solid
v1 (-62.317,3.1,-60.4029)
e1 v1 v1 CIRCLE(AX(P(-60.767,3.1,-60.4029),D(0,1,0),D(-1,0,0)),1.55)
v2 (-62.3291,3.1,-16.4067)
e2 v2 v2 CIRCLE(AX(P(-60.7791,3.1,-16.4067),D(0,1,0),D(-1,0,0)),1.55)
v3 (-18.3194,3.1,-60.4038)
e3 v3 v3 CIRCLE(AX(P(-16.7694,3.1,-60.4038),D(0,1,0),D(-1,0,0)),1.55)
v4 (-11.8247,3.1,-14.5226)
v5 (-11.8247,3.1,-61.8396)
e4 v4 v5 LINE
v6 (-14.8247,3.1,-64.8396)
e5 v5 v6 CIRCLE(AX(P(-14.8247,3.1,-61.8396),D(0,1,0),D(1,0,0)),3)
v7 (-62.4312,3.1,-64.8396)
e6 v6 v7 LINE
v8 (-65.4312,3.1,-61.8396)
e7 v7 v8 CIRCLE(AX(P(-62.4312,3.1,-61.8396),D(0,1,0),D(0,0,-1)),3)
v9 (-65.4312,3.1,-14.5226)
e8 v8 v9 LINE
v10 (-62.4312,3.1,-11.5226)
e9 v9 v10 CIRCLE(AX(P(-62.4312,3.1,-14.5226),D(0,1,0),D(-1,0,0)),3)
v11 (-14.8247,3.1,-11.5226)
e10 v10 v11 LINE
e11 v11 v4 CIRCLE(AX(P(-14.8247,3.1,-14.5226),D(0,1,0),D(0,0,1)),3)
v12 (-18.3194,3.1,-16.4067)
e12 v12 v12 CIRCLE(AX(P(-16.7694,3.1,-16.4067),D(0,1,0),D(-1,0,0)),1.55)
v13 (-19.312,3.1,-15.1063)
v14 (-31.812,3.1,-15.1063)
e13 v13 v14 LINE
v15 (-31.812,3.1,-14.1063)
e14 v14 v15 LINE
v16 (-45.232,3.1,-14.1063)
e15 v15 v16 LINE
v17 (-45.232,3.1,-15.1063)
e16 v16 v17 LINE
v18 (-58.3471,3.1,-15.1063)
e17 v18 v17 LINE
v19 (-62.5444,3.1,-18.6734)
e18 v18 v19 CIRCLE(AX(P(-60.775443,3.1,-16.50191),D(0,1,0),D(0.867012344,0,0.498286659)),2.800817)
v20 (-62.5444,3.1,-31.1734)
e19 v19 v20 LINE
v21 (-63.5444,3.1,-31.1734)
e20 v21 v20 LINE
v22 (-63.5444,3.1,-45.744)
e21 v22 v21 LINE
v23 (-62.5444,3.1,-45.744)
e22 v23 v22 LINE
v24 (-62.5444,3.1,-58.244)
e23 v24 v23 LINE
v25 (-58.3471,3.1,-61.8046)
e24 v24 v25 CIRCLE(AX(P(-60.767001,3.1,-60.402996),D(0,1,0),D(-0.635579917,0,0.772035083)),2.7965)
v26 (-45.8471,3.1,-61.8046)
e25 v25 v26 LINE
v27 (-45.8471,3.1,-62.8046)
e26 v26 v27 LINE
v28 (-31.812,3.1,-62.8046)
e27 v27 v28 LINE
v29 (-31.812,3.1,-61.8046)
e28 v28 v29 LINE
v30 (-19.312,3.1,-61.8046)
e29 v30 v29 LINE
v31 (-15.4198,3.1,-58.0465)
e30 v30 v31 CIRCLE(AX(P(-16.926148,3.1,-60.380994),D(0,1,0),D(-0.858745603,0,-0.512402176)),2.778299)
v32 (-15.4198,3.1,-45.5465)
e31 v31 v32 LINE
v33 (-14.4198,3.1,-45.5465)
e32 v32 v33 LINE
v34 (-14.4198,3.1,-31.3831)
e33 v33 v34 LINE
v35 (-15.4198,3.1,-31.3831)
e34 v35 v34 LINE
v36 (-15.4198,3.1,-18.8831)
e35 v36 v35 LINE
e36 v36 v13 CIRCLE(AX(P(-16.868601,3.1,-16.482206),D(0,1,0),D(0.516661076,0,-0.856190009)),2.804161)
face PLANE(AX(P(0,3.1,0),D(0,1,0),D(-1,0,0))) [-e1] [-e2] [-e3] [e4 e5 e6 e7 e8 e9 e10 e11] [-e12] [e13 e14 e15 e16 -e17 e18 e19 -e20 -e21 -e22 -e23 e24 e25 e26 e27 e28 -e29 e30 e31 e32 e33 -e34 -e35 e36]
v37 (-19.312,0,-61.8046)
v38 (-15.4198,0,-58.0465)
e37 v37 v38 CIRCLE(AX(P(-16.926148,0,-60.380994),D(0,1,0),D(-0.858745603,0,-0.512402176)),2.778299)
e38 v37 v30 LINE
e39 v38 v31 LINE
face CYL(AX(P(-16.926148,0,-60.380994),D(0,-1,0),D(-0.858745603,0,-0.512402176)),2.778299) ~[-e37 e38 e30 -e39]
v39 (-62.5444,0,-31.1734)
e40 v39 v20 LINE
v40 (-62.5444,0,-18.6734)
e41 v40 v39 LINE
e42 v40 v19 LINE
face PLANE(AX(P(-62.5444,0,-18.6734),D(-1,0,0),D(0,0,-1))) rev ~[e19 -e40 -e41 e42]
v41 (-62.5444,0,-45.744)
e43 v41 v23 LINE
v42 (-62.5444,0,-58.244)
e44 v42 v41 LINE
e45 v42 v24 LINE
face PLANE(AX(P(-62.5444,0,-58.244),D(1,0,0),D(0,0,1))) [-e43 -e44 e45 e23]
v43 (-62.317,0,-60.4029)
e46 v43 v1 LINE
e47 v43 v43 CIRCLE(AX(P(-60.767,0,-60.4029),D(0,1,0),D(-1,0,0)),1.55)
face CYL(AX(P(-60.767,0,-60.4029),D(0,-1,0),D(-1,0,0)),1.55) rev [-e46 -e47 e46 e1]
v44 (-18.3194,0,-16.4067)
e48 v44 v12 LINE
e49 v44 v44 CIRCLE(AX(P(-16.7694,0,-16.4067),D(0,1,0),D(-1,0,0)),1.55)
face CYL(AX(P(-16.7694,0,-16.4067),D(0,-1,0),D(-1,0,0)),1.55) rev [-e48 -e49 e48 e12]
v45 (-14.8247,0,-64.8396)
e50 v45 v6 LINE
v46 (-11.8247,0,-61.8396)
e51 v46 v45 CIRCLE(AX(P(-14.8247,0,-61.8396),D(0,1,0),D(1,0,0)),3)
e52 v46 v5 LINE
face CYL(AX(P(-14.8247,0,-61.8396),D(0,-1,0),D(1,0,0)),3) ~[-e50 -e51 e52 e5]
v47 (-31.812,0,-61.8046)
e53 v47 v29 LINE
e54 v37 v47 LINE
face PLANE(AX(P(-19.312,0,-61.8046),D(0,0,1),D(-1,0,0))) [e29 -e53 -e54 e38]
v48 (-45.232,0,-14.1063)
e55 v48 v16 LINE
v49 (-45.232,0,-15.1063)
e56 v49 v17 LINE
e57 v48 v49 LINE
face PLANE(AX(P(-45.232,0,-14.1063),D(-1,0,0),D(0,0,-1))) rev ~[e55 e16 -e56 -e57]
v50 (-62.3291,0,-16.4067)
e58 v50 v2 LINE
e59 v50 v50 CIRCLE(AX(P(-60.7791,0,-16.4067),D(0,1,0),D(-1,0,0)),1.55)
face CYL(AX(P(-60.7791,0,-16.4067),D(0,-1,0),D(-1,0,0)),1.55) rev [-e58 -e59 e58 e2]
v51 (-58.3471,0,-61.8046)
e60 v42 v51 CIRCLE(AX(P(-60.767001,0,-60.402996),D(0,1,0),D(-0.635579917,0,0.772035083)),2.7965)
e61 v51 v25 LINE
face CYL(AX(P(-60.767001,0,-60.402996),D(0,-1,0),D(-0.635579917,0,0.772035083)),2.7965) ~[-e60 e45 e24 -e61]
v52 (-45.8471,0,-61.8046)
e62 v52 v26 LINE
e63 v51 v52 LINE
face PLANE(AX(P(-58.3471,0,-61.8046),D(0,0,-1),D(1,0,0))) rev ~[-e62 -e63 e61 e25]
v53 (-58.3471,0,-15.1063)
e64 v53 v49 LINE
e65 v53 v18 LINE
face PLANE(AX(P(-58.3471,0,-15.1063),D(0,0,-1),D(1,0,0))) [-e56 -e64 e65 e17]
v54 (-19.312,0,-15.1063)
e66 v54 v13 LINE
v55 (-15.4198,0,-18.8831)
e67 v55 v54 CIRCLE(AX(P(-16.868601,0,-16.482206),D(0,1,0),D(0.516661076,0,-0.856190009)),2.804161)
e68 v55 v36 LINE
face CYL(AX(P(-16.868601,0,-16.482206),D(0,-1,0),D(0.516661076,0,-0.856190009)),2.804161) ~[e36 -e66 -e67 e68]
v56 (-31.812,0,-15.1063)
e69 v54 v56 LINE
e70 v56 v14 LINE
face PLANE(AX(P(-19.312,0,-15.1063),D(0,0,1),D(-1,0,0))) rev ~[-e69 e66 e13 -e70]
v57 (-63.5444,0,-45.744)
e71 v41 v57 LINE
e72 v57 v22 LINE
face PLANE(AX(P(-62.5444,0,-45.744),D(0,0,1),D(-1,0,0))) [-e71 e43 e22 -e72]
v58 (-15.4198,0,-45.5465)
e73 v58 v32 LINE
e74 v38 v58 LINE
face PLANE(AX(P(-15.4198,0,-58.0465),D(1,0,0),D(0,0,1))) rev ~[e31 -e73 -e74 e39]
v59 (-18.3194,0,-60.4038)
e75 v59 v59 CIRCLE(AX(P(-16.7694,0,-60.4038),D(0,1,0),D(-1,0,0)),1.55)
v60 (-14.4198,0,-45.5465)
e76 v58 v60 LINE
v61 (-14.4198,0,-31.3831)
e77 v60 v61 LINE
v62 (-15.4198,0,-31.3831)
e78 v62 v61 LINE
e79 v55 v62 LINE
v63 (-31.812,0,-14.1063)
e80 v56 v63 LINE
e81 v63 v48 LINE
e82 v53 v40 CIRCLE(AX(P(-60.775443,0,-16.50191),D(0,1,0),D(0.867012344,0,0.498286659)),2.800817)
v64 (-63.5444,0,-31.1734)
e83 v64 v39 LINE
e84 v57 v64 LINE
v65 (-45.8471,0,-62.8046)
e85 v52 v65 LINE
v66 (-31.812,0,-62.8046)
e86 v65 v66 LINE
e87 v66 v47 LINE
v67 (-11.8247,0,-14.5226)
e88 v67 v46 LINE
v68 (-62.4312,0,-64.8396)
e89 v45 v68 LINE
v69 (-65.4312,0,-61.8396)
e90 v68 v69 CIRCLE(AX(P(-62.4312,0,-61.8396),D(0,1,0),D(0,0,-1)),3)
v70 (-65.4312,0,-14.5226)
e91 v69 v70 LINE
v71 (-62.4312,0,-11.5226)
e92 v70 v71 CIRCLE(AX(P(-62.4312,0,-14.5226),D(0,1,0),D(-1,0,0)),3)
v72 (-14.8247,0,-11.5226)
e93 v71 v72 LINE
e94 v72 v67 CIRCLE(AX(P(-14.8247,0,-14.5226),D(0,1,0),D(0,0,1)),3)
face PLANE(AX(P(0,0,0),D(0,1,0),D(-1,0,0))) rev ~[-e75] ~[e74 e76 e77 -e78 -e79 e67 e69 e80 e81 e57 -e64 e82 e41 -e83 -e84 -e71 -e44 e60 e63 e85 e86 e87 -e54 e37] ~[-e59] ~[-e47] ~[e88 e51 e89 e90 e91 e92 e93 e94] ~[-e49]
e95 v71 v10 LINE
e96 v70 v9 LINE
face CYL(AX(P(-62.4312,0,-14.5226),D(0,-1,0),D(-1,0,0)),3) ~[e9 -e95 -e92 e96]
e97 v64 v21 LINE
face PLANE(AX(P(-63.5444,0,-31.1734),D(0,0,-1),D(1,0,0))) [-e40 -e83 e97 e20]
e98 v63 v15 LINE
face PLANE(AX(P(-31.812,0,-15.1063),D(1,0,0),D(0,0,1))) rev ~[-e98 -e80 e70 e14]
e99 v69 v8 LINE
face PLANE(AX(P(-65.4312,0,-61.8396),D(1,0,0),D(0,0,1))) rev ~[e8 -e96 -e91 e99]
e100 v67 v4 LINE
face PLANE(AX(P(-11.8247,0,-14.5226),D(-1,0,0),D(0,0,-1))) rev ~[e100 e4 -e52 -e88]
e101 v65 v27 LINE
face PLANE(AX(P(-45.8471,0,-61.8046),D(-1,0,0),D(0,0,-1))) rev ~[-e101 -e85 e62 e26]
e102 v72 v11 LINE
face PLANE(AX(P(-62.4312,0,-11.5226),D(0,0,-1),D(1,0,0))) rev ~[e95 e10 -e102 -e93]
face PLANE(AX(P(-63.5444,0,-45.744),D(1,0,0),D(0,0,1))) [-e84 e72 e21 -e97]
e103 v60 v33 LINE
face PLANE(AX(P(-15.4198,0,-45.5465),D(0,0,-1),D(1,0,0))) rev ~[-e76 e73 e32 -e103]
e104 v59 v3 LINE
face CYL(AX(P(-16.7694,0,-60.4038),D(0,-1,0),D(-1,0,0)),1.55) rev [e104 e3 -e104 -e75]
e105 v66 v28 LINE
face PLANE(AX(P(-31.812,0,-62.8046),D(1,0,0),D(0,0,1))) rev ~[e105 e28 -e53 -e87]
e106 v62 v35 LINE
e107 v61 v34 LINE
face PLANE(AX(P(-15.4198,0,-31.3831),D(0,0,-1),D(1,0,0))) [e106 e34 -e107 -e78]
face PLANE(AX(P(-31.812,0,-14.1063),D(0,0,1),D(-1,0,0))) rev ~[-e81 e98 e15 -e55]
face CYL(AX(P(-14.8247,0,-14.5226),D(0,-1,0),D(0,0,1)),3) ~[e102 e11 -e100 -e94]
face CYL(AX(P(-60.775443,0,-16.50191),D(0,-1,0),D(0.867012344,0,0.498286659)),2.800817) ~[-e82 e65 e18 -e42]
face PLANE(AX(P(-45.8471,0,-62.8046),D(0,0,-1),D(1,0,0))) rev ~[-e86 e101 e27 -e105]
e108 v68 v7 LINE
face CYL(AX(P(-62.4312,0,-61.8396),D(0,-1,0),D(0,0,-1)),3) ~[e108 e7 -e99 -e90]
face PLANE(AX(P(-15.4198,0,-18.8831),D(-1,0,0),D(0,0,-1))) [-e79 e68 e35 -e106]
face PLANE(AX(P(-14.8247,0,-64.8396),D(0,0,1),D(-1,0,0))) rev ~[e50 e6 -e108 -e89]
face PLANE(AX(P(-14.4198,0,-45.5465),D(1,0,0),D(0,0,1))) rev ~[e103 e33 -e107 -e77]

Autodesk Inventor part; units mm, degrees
ref_plane "YZ Plane" through (0, 0, 0) normal (1, 0, 0) x (0, 1, 0)
ref_plane "XZ Plane" through (0, 0, 0) normal (0, 1, 0) x (-1, 0, 0)
ref_plane "XY Plane" through (0, 0, 0) normal (0, 0, 1) x (1, 0, 0)
sketch "Baseline" plane through (0, 0, 0) normal (0, 1, 0) x (-1, 0, 0)
  line L0 (61.0726, -11.6756) -> (16.1384, -11.6756)
  spline S0 degree 3 poles (16.1384, -11.6756) (13.8101, -11.6756) (11.9051, -13.5806) (11.9051, -15.909) knots 1 1 1 1 2 2 2 2
  line L1 (16.1384, -11.6756) -> (13.8101, -11.6756) construction
  line L2 (13.8101, -11.6756) -> (11.9051, -13.5806) construction
  line L3 (11.9051, -13.5806) -> (11.9051, -15.909) construction
  line L4 (11.9051, -15.909) -> (11.9051, -60.661)
  spline S1 degree 3 poles (11.9051, -60.661) (11.9051, -62.9893) (13.8101, -64.8943) (16.1384, -64.8943) knots 3 3 3 3 4 4 4 4
  line L5 (11.9051, -60.661) -> (11.9051, -62.9893) construction
  line L6 (11.9051, -62.9893) -> (13.8101, -64.8943) construction
  line L7 (13.8101, -64.8943) -> (16.1384, -64.8943) construction
  line L8 (16.1384, -64.8943) -> (61.0726, -64.8943)
  spline S2 degree 3 poles (61.0726, -64.8943) (63.4009, -64.8943) (65.3059, -62.9893) (65.3059, -60.661) knots 5 5 5 5 6 6 6 6
  line L9 (61.0726, -64.8943) -> (63.4009, -64.8943) construction
  line L10 (63.4009, -64.8943) -> (65.3059, -62.9893) construction
  line L11 (65.3059, -62.9893) -> (65.3059, -60.661) construction
  line L12 (65.3059, -60.661) -> (65.3059, -15.909)
  spline S3 degree 3 poles (65.3059, -15.909) (65.3059, -13.5806) (63.4009, -11.6756) (61.0726, -11.6756) knots 7 7 7 7 8 8 8 8
  line L13 (65.3059, -15.909) -> (65.3059, -13.5806) construction
  line L14 (65.3059, -13.5806) -> (63.4009, -11.6756) construction
  line L15 (63.4009, -11.6756) -> (61.0726, -11.6756) construction
  spline S4 degree 3 poles (59.9166, -15.3859) (59.9168, -15.3857) (59.9171, -15.3855) (59.9173, -15.3853) knots 0 0 0 0 1 1 1 1
  line L16 (59.9166, -15.3859) -> (59.9168, -15.3857) construction
  line L17 (59.9168, -15.3857) -> (59.9171, -15.3855) construction
  line L18 (59.9171, -15.3855) -> (59.9173, -15.3853) construction
  line L19 (59.9173, -15.3853) -> (59.9173, -15.3854)
  spline S5 degree 3 poles (59.9173, -15.3854) (60.1545, -15.1997) (60.4494, -15.0845) (60.7739, -15.0845) (61.5454, -15.0845) (62.1709, -15.7099) (62.1709, -16.4815) (62.1709, -16.7261) (62.1024, -16.9527) (61.9919, -17.1527) knots 2 2 2 2 3 3 3 4 4 4 5 5 5 5
  line L20 (59.9173, -15.3854) -> (60.1545, -15.1997) construction
  line L21 (60.1545, -15.1997) -> (60.4494, -15.0845) construction
  line L22 (60.4494, -15.0845) -> (60.7739, -15.0845) construction
  line L23 (60.7739, -15.0845) -> (61.5454, -15.0845) construction
  line L24 (61.5454, -15.0845) -> (62.1709, -15.7099) construction
  line L25 (62.1709, -15.7099) -> (62.1709, -16.4815) construction
  line L26 (62.1709, -16.4815) -> (62.1709, -16.7261) construction
  line L27 (62.1709, -16.7261) -> (62.1024, -16.9527) construction
  line L28 (62.1024, -16.9527) -> (61.9919, -17.1527) construction
  line L29 (61.9919, -17.1527) -> (61.9919, -17.1527)
  spline S6 degree 3 poles (61.9919, -17.1527) (61.9084, -17.3039) (61.7991, -17.4365) (61.6678, -17.5468) knots 7 7 7 7 8 8 8 8
  line L30 (61.9919, -17.1527) -> (61.9084, -17.3039) construction
  line L31 (61.9084, -17.3039) -> (61.7991, -17.4365) construction
  line L32 (61.7991, -17.4365) -> (61.6678, -17.5468) construction
  spline S7 degree 3 poles (61.6678, -17.5468) (61.6518, -17.5604) (61.6359, -17.5739) (61.6194, -17.5867) knots 8 8 8 8 9 9 9 9
  line L33 (61.6678, -17.5468) -> (61.6518, -17.5604) construction
  line L34 (61.6518, -17.5604) -> (61.6359, -17.5739) construction
  line L35 (61.6359, -17.5739) -> (61.6194, -17.5867) construction
  spline S8 degree 3 poles (61.6194, -17.5867) (61.583, -17.6147) (61.5464, -17.6415) (61.5073, -17.6658) knots 9 9 9 9 10 10 10 10
  line L36 (61.6194, -17.5867) -> (61.583, -17.6147) construction
  line L37 (61.583, -17.6147) -> (61.5464, -17.6415) construction
  line L38 (61.5464, -17.6415) -> (61.5073, -17.6658) construction
  spline S9 degree 3 poles (61.5073, -17.6658) (61.4604, -17.6954) (61.4112, -17.7214) (61.3608, -17.7453) knots 10 10 10 10 11 11 11 11
  line L39 (61.5073, -17.6658) -> (61.4604, -17.6954) construction
  line L40 (61.4604, -17.6954) -> (61.4112, -17.7214) construction
  line L41 (61.4112, -17.7214) -> (61.3608, -17.7453) construction
  spline S10 degree 3 poles (61.3608, -17.7453) (61.3302, -17.7595) (61.2994, -17.7722) (61.2677, -17.7842) knots 11 11 11 11 12 12 12 12
  line L42 (61.3608, -17.7453) -> (61.3302, -17.7595) construction
  line L43 (61.3302, -17.7595) -> (61.2994, -17.7722) construction
  line L44 (61.2994, -17.7722) -> (61.2677, -17.7842) construction
  spline S11 degree 3 poles (61.2677, -17.7842) (61.2113, -17.8059) (61.1534, -17.824) (61.0936, -17.8382) knots 12 12 12 12 13 13 13 13
  line L45 (61.2677, -17.7842) -> (61.2113, -17.8059) construction
  line L46 (61.2113, -17.8059) -> (61.1534, -17.824) construction
  line L47 (61.1534, -17.824) -> (61.0936, -17.8382) construction
  spline S12 degree 3 poles (61.0936, -17.8382) (61.0698, -17.8439) (61.0461, -17.8491) (61.0217, -17.8535) knots 13 13 13 13 14 14 14 14
  line L48 (61.0936, -17.8382) -> (61.0698, -17.8439) construction
  line L49 (61.0698, -17.8439) -> (61.0461, -17.8491) construction
  line L50 (61.0461, -17.8491) -> (61.0217, -17.8535) construction
  spline S13 degree 3 poles (61.0217, -17.8535) (60.9411, -17.8682) (60.8589, -17.8785) (60.7739, -17.8785) (60.0023, -17.8785) (59.3769, -17.253) (59.3769, -16.4815) (59.3769, -16.3956) (59.387, -16.3124) (59.4021, -16.2311) knots 14 14 14 14 15 15 15 16 16 16 17 17 17 17
  line L51 (61.0217, -17.8535) -> (60.9411, -17.8682) construction
  line L52 (60.9411, -17.8682) -> (60.8589, -17.8785) construction
  line L53 (60.8589, -17.8785) -> (60.7739, -17.8785) construction
  line L54 (60.7739, -17.8785) -> (60.0023, -17.8785) construction
  line L55 (60.0023, -17.8785) -> (59.3769, -17.253) construction
  line L56 (59.3769, -17.253) -> (59.3769, -16.4815) construction
  line L57 (59.3769, -16.4815) -> (59.3769, -16.3956) construction
  line L58 (59.3769, -16.3956) -> (59.387, -16.3124) construction
  line L59 (59.387, -16.3124) -> (59.4021, -16.2311) construction
  spline S14 degree 3 poles (59.4021, -16.2311) (59.4052, -16.2142) (59.4075, -16.1974) (59.4112, -16.1808) knots 17 17 17 17 18 18 18 18
  line L60 (59.4021, -16.2311) -> (59.4052, -16.2142) construction
  line L61 (59.4052, -16.2142) -> (59.4075, -16.1974) construction
  line L62 (59.4075, -16.1974) -> (59.4112, -16.1808) construction
  spline S15 degree 3 poles (59.4112, -16.1808) (59.4271, -16.11) (59.4487, -16.0414) (59.475, -15.9752) knots 18 18 18 18 19 19 19 19
  line L63 (59.4112, -16.1808) -> (59.4271, -16.11) construction
  line L64 (59.4271, -16.11) -> (59.4487, -16.0414) construction
  line L65 (59.4487, -16.0414) -> (59.475, -15.9752) construction
  spline S16 degree 3 poles (59.475, -15.9752) (59.486, -15.9472) (59.4982, -15.9203) (59.5108, -15.8933) knots 19 19 19 19 20 20 20 20
  line L66 (59.475, -15.9752) -> (59.486, -15.9472) construction
  line L67 (59.486, -15.9472) -> (59.4982, -15.9203) construction
  line L68 (59.4982, -15.9203) -> (59.5108, -15.8933) construction
  spline S17 degree 3 poles (59.5108, -15.8933) (59.5311, -15.8506) (59.5537, -15.8095) (59.5781, -15.7694) knots 20 20 20 20 21 21 21 21
  line L69 (59.5108, -15.8933) -> (59.5311, -15.8506) construction
  line L70 (59.5311, -15.8506) -> (59.5537, -15.8095) construction
  line L71 (59.5537, -15.8095) -> (59.5781, -15.7694) construction
  spline S18 degree 3 poles (59.5781, -15.7694) (59.6085, -15.7183) (59.6422, -15.6703) (59.6788, -15.6237) knots 21 21 21 21 22 22 22 22
  line L72 (59.5781, -15.7694) -> (59.6085, -15.7183) construction
  line L73 (59.6085, -15.7183) -> (59.6422, -15.6703) construction
  line L74 (59.6422, -15.6703) -> (59.6788, -15.6237) construction
  spline S19 degree 3 poles (59.6788, -15.6237) (59.69, -15.6095) (59.7015, -15.5956) (59.7133, -15.5819) knots 22 22 22 22 23 23 23 23
  line L75 (59.6788, -15.6237) -> (59.69, -15.6095) construction
  line L76 (59.69, -15.6095) -> (59.7015, -15.5956) construction
  line L77 (59.7015, -15.5956) -> (59.7133, -15.5819) construction
  spline S20 degree 3 poles (59.7133, -15.5819) (59.7745, -15.5098) (59.8421, -15.4444) (59.9166, -15.3859) knots 23 23 23 23 24 24 24 24
  line L78 (59.7133, -15.5819) -> (59.7745, -15.5098) construction
  line L79 (59.7745, -15.5098) -> (59.8421, -15.4444) construction
  line L80 (59.8421, -15.4444) -> (59.9166, -15.3859) construction
  spline S21 degree 3 poles (16.8742, -15.0845) (17.2556, -15.0845) (17.6005, -15.2381) (17.8525, -15.4858) knots 0 0 0 0 1 1 1 1
  line L81 (16.8742, -15.0845) -> (17.2556, -15.0845) construction
  line L82 (17.2556, -15.0845) -> (17.6005, -15.2381) construction
  line L83 (17.6005, -15.2381) -> (17.8525, -15.4858) construction
  line L84 (17.8525, -15.4858) -> (17.8526, -15.4858)
  spline S22 degree 3 poles (17.8526, -15.4858) (17.8526, -15.4858) (17.8526, -15.4859) (17.8526, -15.4859) knots 2 2 2 2 3 3 3 3
  line L85 (17.8526, -15.4858) -> (17.8526, -15.4858) construction
  line L86 (17.8526, -15.4858) -> (17.8526, -15.4859) construction
  line L87 (17.8526, -15.4859) -> (17.8526, -15.4859) construction
  spline S23 degree 3 poles (17.8526, -15.4859) (17.9793, -15.6103) (18.0817, -15.7586) (18.1538, -15.9236) knots 3 3 3 3 4 4 4 4
  line L88 (17.8526, -15.4859) -> (17.9793, -15.6103) construction
  line L89 (17.9793, -15.6103) -> (18.0817, -15.7586) construction
  line L90 (18.0817, -15.7586) -> (18.1538, -15.9236) construction
  spline S24 degree 3 poles (18.1538, -15.9236) (18.1552, -15.9268) (18.1574, -15.9295) (18.1587, -15.9327) knots 4 4 4 4 5 5 5 5
  line L91 (18.1538, -15.9236) -> (18.1552, -15.9268) construction
  line L92 (18.1552, -15.9268) -> (18.1574, -15.9295) construction
  line L93 (18.1574, -15.9295) -> (18.1587, -15.9327) construction
  spline S25 degree 3 poles (18.1587, -15.9327) (18.1905, -16.0071) (18.2137, -16.0857) (18.2323, -16.166) knots 5 5 5 5 6 6 6 6
  line L94 (18.1587, -15.9327) -> (18.1905, -16.0071) construction
  line L95 (18.1905, -16.0071) -> (18.2137, -16.0857) construction
  line L96 (18.2137, -16.0857) -> (18.2323, -16.166) construction
  spline S26 degree 3 poles (18.2323, -16.166) (18.2348, -16.1769) (18.2399, -16.1867) (18.2422, -16.1977) knots 6 6 6 6 7 7 7 7
  line L97 (18.2323, -16.166) -> (18.2348, -16.1769) construction
  line L98 (18.2348, -16.1769) -> (18.2399, -16.1867) construction
  line L99 (18.2399, -16.1867) -> (18.2422, -16.1977) construction
  spline S27 degree 3 poles (18.2422, -16.1977) (18.2611, -16.2893) (18.2712, -16.3842) (18.2712, -16.4815) (18.2712, -16.8672) (18.1149, -17.2165) (17.8621, -17.4693) knots 7 7 7 7 8 8 8 9 9 9 9
  line L100 (18.2422, -16.1977) -> (18.2611, -16.2893) construction
  line L101 (18.2611, -16.2893) -> (18.2712, -16.3842) construction
  line L102 (18.2712, -16.3842) -> (18.2712, -16.4815) construction
  line L103 (18.2712, -16.4815) -> (18.2712, -16.8672) construction
  line L104 (18.2712, -16.8672) -> (18.1149, -17.2165) construction
  line L105 (18.1149, -17.2165) -> (17.8621, -17.4693) construction
  spline S28 degree 3 poles (17.8621, -17.4693) (17.6725, -17.6589) (17.4286, -17.7943) (17.1558, -17.8501) knots 9 9 9 9 10 10 10 10
  line L106 (17.8621, -17.4693) -> (17.6725, -17.6589) construction
  line L107 (17.6725, -17.6589) -> (17.4286, -17.7943) construction
  line L108 (17.4286, -17.7943) -> (17.1558, -17.8501) construction
  spline S29 degree 3 poles (17.1558, -17.8501) (17.0648, -17.8687) (16.9707, -17.8785) (16.8742, -17.8785) (16.7745, -17.8785) (16.6776, -17.8672) (16.5839, -17.8474) knots 10 10 10 10 11 11 11 12 12 12 12
  line L109 (17.1558, -17.8501) -> (17.0648, -17.8687) construction
  line L110 (17.0648, -17.8687) -> (16.9707, -17.8785) construction
  line L111 (16.9707, -17.8785) -> (16.8742, -17.8785) construction
  line L112 (16.8742, -17.8785) -> (16.7745, -17.8785) construction
  line L113 (16.7745, -17.8785) -> (16.6776, -17.8672) construction
  line L114 (16.6776, -17.8672) -> (16.5839, -17.8474) construction
  spline S30 degree 3 poles (16.5839, -17.8474) (16.5698, -17.8443) (16.5571, -17.8382) (16.5433, -17.8348) knots 12 12 12 12 13 13 13 13
  line L115 (16.5839, -17.8474) -> (16.5698, -17.8443) construction
  line L116 (16.5698, -17.8443) -> (16.5571, -17.8382) construction
  line L117 (16.5571, -17.8382) -> (16.5433, -17.8348) construction
  spline S31 degree 3 poles (16.5433, -17.8348) (16.4629, -17.8152) (16.3847, -17.7907) (16.3105, -17.7579) knots 13 13 13 13 14 14 14 14
  line L118 (16.5433, -17.8348) -> (16.4629, -17.8152) construction
  line L119 (16.4629, -17.8152) -> (16.3847, -17.7907) construction
  line L120 (16.3847, -17.7907) -> (16.3105, -17.7579) construction
  spline S32 degree 3 poles (16.3105, -17.7579) (16.3052, -17.7555) (16.3005, -17.752) (16.2952, -17.7496) knots 14 14 14 14 15 15 15 15
  line L121 (16.3105, -17.7579) -> (16.3052, -17.7555) construction
  line L122 (16.3052, -17.7555) -> (16.3005, -17.752) construction
  line L123 (16.3005, -17.752) -> (16.2952, -17.7496) construction
  spline S33 degree 3 poles (16.2952, -17.7496) (16.1272, -17.6727) (15.9783, -17.5637) (15.8541, -17.4302) knots 15 15 15 15 16 16 16 16
  line L124 (16.2952, -17.7496) -> (16.1272, -17.6727) construction
  line L125 (16.1272, -17.6727) -> (15.9783, -17.5637) construction
  line L126 (15.9783, -17.5637) -> (15.8541, -17.4302) construction
  spline S34 degree 3 poles (15.8541, -17.4302) (15.6221, -17.1808) (15.4772, -16.849) (15.4772, -16.4815) (15.4772, -15.7099) (16.1027, -15.0845) (16.8742, -15.0845) knots 18 18 18 18 19 19 19 20 20 20 20
  line L127 (15.8541, -17.4302) -> (15.6221, -17.1808) construction
  line L128 (15.6221, -17.1808) -> (15.4772, -16.849) construction
  line L129 (15.4772, -16.849) -> (15.4772, -16.4815) construction
  line L130 (15.4772, -16.4815) -> (15.4772, -15.7099) construction
  line L131 (15.4772, -15.7099) -> (16.1027, -15.0845) construction
  line L132 (16.1027, -15.0845) -> (16.8742, -15.0845) construction
  line L133 (17.8793, -61.432) -> (17.8793, -61.4321)
  spline S35 degree 3 poles (17.8793, -61.4321) (17.6285, -61.6715) (17.2906, -61.8205) (16.9166, -61.8205) (16.145, -61.8205) (15.5195, -61.195) (15.5195, -60.4235) (15.5195, -59.9667) (15.742, -59.5649) (16.0811, -59.31) knots 2 2 2 2 3 3 3 4 4 4 5 5 5 5
  line L134 (17.8793, -61.4321) -> (17.6285, -61.6715) construction
  line L135 (17.6285, -61.6715) -> (17.2906, -61.8205) construction
  line L136 (17.2906, -61.8205) -> (16.9166, -61.8205) construction
  line L137 (16.9166, -61.8205) -> (16.145, -61.8205) construction
  line L138 (16.145, -61.8205) -> (15.5195, -61.195) construction
  line L139 (15.5195, -61.195) -> (15.5195, -60.4235) construction
  line L140 (15.5195, -60.4235) -> (15.5195, -59.9667) construction
  line L141 (15.5195, -59.9667) -> (15.742, -59.5649) construction
  line L142 (15.742, -59.5649) -> (16.0811, -59.31) construction
  spline S36 degree 3 poles (16.0811, -59.31) (16.0818, -59.3094) (16.0823, -59.3088) (16.0831, -59.3083) knots 5 5 5 5 6 6 6 6
  line L143 (16.0811, -59.31) -> (16.0818, -59.3094) construction
  line L144 (16.0818, -59.3094) -> (16.0823, -59.3088) construction
  line L145 (16.0823, -59.3088) -> (16.0831, -59.3083) construction
  spline S37 degree 3 poles (16.0831, -59.3083) (16.155, -59.2545) (16.2317, -59.2079) (16.3134, -59.1685) knots 6 6 6 6 7 7 7 7
  line L146 (16.0831, -59.3083) -> (16.155, -59.2545) construction
  line L147 (16.155, -59.2545) -> (16.2317, -59.2079) construction
  line L148 (16.2317, -59.2079) -> (16.3134, -59.1685) construction
  spline S38 degree 3 poles (16.3134, -59.1685) (16.3218, -59.1643) (16.3295, -59.1591) (16.3381, -59.1551) knots 7 7 7 7 8 8 8 8
  line L149 (16.3134, -59.1685) -> (16.3218, -59.1643) construction
  line L150 (16.3218, -59.1643) -> (16.3295, -59.1591) construction
  line L151 (16.3295, -59.1591) -> (16.3381, -59.1551) construction
  spline S39 degree 3 poles (16.3381, -59.1551) (16.412, -59.1213) (16.4898, -59.0956) (16.57, -59.075) knots 8 8 8 8 9 9 9 9
  line L152 (16.3381, -59.1551) -> (16.412, -59.1213) construction
  line L153 (16.412, -59.1213) -> (16.4898, -59.0956) construction
  line L154 (16.4898, -59.0956) -> (16.57, -59.075) construction
  spline S40 degree 3 poles (16.57, -59.075) (16.5869, -59.0706) (16.6024, -59.0635) (16.6196, -59.0597) knots 9 9 9 9 10 10 10 10
  line L155 (16.57, -59.075) -> (16.5869, -59.0706) construction
  line L156 (16.5869, -59.0706) -> (16.6024, -59.0635) construction
  line L157 (16.6024, -59.0635) -> (16.6196, -59.0597) construction
  spline S41 degree 3 poles (16.6196, -59.0597) (16.7155, -59.0389) (16.8144, -59.0265) (16.9166, -59.0265) (17.013, -59.0265) (17.1072, -59.0363) (17.1981, -59.0549) knots 10 10 10 10 11 11 11 12 12 12 12
  line L158 (16.6196, -59.0597) -> (16.7155, -59.0389) construction
  line L159 (16.7155, -59.0389) -> (16.8144, -59.0265) construction
  line L160 (16.8144, -59.0265) -> (16.9166, -59.0265) construction
  line L161 (16.9166, -59.0265) -> (17.013, -59.0265) construction
  line L162 (17.013, -59.0265) -> (17.1072, -59.0363) construction
  line L163 (17.1072, -59.0363) -> (17.1981, -59.0549) construction
  spline S42 degree 3 poles (17.1981, -59.0549) (17.4709, -59.1107) (17.7148, -59.246) (17.9044, -59.4357) (18.1572, -59.6885) (18.3136, -60.0377) (18.3136, -60.4235) (18.3136, -60.522) (18.3028, -60.618) (18.2834, -60.7107) knots 12 12 12 12 13 13 13 14 14 14 15 15 15 15
  line L164 (17.1981, -59.0549) -> (17.4709, -59.1107) construction
  line L165 (17.4709, -59.1107) -> (17.7148, -59.246) construction
  line L166 (17.7148, -59.246) -> (17.9044, -59.4357) construction
  line L167 (17.9044, -59.4357) -> (18.1572, -59.6885) construction
  line L168 (18.1572, -59.6885) -> (18.3136, -60.0377) construction
  line L169 (18.3136, -60.0377) -> (18.3136, -60.4235) construction
  line L170 (18.3136, -60.4235) -> (18.3136, -60.522) construction
  line L171 (18.3136, -60.522) -> (18.3028, -60.618) construction
  line L172 (18.3028, -60.618) -> (18.2834, -60.7107) construction
  spline S43 degree 3 poles (18.2834, -60.7107) (18.2806, -60.724) (18.2747, -60.736) (18.2715, -60.7491) knots 15 15 15 15 16 16 16 16
  line L173 (18.2834, -60.7107) -> (18.2806, -60.724) construction
  line L174 (18.2806, -60.724) -> (18.2747, -60.736) construction
  line L175 (18.2747, -60.736) -> (18.2715, -60.7491) construction
  spline S44 degree 3 poles (18.2715, -60.7491) (18.2524, -60.8288) (18.2288, -60.9066) (18.1967, -60.9803) knots 16 16 16 16 17 17 17 17
  line L176 (18.2715, -60.7491) -> (18.2524, -60.8288) construction
  line L177 (18.2524, -60.8288) -> (18.2288, -60.9066) construction
  line L178 (18.2288, -60.9066) -> (18.1967, -60.9803) construction
  spline S45 degree 3 poles (18.1967, -60.9803) (18.1948, -60.9846) (18.192, -60.9883) (18.19, -60.9926) knots 17 17 17 17 18 18 18 18
  line L179 (18.1967, -60.9803) -> (18.1948, -60.9846) construction
  line L180 (18.1948, -60.9846) -> (18.192, -60.9883) construction
  line L181 (18.192, -60.9883) -> (18.19, -60.9926) construction
  spline S46 degree 3 poles (18.19, -60.9926) (18.1154, -61.1592) (18.0095, -61.3077) (17.8793, -61.432) knots 18 18 18 18 19 19 19 19
  line L182 (18.19, -60.9926) -> (18.1154, -61.1592) construction
  line L183 (18.1154, -61.1592) -> (18.0095, -61.3077) construction
  line L184 (18.0095, -61.3077) -> (17.8793, -61.432) construction
  spline S47 degree 3 poles (60.7739, -61.8205) (60.4493, -61.8205) (60.1545, -61.7053) (59.9173, -61.5196) knots 0 0 0 0 1 1 1 1
  line L185 (60.7739, -61.8205) -> (60.4493, -61.8205) construction
  line L186 (60.4493, -61.8205) -> (60.1545, -61.7053) construction
  line L187 (60.1545, -61.7053) -> (59.9173, -61.5196) construction
  line L188 (59.9173, -61.5196) -> (59.9171, -61.5194)
  spline S48 degree 3 poles (59.9171, -61.5194) (59.8423, -61.4608) (59.7745, -61.3953) (59.7131, -61.3229) knots 3 3 3 3 4 4 4 4
  line L189 (59.9171, -61.5194) -> (59.8423, -61.4608) construction
  line L190 (59.8423, -61.4608) -> (59.7745, -61.3953) construction
  line L191 (59.7745, -61.3953) -> (59.7131, -61.3229) construction
  spline S49 degree 3 poles (59.7131, -61.3229) (59.7014, -61.3093) (59.6901, -61.2955) (59.6789, -61.2815) knots 4 4 4 4 5 5 5 5
  line L192 (59.7131, -61.3229) -> (59.7014, -61.3093) construction
  line L193 (59.7014, -61.3093) -> (59.6901, -61.2955) construction
  line L194 (59.6901, -61.2955) -> (59.6789, -61.2815) construction
  spline S50 degree 3 poles (59.6789, -61.2815) (59.6422, -61.2347) (59.6084, -61.1865) (59.5778, -61.1352) knots 5 5 5 5 6 6 6 6
  line L195 (59.6789, -61.2815) -> (59.6422, -61.2347) construction
  line L196 (59.6422, -61.2347) -> (59.6084, -61.1865) construction
  line L197 (59.6084, -61.1865) -> (59.5778, -61.1352) construction
  spline S51 degree 3 poles (59.5778, -61.1352) (59.5536, -61.0952) (59.5311, -61.0543) (59.5109, -61.0119) knots 6 6 6 6 7 7 7 7
  line L198 (59.5778, -61.1352) -> (59.5536, -61.0952) construction
  line L199 (59.5536, -61.0952) -> (59.5311, -61.0543) construction
  line L200 (59.5311, -61.0543) -> (59.5109, -61.0119) construction
  spline S52 degree 3 poles (59.5109, -61.0119) (59.4982, -60.9847) (59.486, -60.9578) (59.475, -60.9298) knots 7 7 7 7 8 8 8 8
  line L201 (59.5109, -61.0119) -> (59.4982, -60.9847) construction
  line L202 (59.4982, -60.9847) -> (59.486, -60.9578) construction
  line L203 (59.486, -60.9578) -> (59.475, -60.9298) construction
  spline S53 degree 3 poles (59.475, -60.9298) (59.4487, -60.8635) (59.4271, -60.795) (59.4112, -60.7241) knots 8 8 8 8 9 9 9 9
  line L204 (59.475, -60.9298) -> (59.4487, -60.8635) construction
  line L205 (59.4487, -60.8635) -> (59.4271, -60.795) construction
  line L206 (59.4271, -60.795) -> (59.4112, -60.7241) construction
  spline S54 degree 3 poles (59.4112, -60.7241) (59.4075, -60.7075) (59.4052, -60.6907) (59.4021, -60.6739) knots 9 9 9 9 10 10 10 10
  line L207 (59.4112, -60.7241) -> (59.4075, -60.7075) construction
  line L208 (59.4075, -60.7075) -> (59.4052, -60.6907) construction
  line L209 (59.4052, -60.6907) -> (59.4021, -60.6739) construction
  spline S55 degree 3 poles (59.4021, -60.6739) (59.387, -60.5925) (59.3769, -60.5094) (59.3769, -60.4235) (59.3769, -59.6519) (60.0023, -59.0265) (60.7739, -59.0265) (60.8589, -59.0265) (60.9411, -59.0368) (61.0217, -59.0515) knots 10 10 10 10 11 11 11 12 12 12 13 13 13 13
  line L210 (59.4021, -60.6739) -> (59.387, -60.5925) construction
  line L211 (59.387, -60.5925) -> (59.3769, -60.5094) construction
  line L212 (59.3769, -60.5094) -> (59.3769, -60.4235) construction
  line L213 (59.3769, -60.4235) -> (59.3769, -59.6519) construction
  line L214 (59.3769, -59.6519) -> (60.0023, -59.0265) construction
  line L215 (60.0023, -59.0265) -> (60.7739, -59.0265) construction
  line L216 (60.7739, -59.0265) -> (60.8589, -59.0265) construction
  line L217 (60.8589, -59.0265) -> (60.9411, -59.0368) construction
  line L218 (60.9411, -59.0368) -> (61.0217, -59.0515) construction
  spline S56 degree 3 poles (61.0217, -59.0515) (61.0461, -59.0558) (61.0698, -59.0611) (61.0936, -59.0667) knots 13 13 13 13 14 14 14 14
  line L219 (61.0217, -59.0515) -> (61.0461, -59.0558) construction
  line L220 (61.0461, -59.0558) -> (61.0698, -59.0611) construction
  line L221 (61.0698, -59.0611) -> (61.0936, -59.0667) construction
  spline S57 degree 3 poles (61.0936, -59.0667) (61.1534, -59.081) (61.2113, -59.099) (61.2677, -59.1208) knots 14 14 14 14 15 15 15 15
  line L222 (61.0936, -59.0667) -> (61.1534, -59.081) construction
  line L223 (61.1534, -59.081) -> (61.2113, -59.099) construction
  line L224 (61.2113, -59.099) -> (61.2677, -59.1208) construction
  spline S58 degree 3 poles (61.2677, -59.1208) (61.2994, -59.1328) (61.3302, -59.1455) (61.3608, -59.1597) knots 15 15 15 15 16 16 16 16
  line L225 (61.2677, -59.1208) -> (61.2994, -59.1328) construction
  line L226 (61.2994, -59.1328) -> (61.3302, -59.1455) construction
  line L227 (61.3302, -59.1455) -> (61.3608, -59.1597) construction
  spline S59 degree 3 poles (61.3608, -59.1597) (61.4112, -59.1836) (61.4604, -59.2096) (61.5073, -59.2392) knots 16 16 16 16 17 17 17 17
  line L228 (61.3608, -59.1597) -> (61.4112, -59.1836) construction
  line L229 (61.4112, -59.1836) -> (61.4604, -59.2096) construction
  line L230 (61.4604, -59.2096) -> (61.5073, -59.2392) construction
  spline S60 degree 3 poles (61.5073, -59.2392) (61.5464, -59.2635) (61.583, -59.2903) (61.6194, -59.3182) knots 17 17 17 17 18 18 18 18
  line L231 (61.5073, -59.2392) -> (61.5464, -59.2635) construction
  line L232 (61.5464, -59.2635) -> (61.583, -59.2903) construction
  line L233 (61.583, -59.2903) -> (61.6194, -59.3182) construction
  spline S61 degree 3 poles (61.6194, -59.3182) (61.6359, -59.3311) (61.6518, -59.3446) (61.6678, -59.3581) knots 18 18 18 18 19 19 19 19
  line L234 (61.6194, -59.3182) -> (61.6359, -59.3311) construction
  line L235 (61.6359, -59.3311) -> (61.6518, -59.3446) construction
  line L236 (61.6518, -59.3446) -> (61.6678, -59.3581) construction
  spline S62 degree 3 poles (61.6678, -59.3581) (61.7991, -59.4685) (61.9084, -59.6011) (61.9919, -59.7522) knots 19 19 19 19 20 20 20 20
  line L237 (61.6678, -59.3581) -> (61.7991, -59.4685) construction
  line L238 (61.7991, -59.4685) -> (61.9084, -59.6011) construction
  line L239 (61.9084, -59.6011) -> (61.9919, -59.7522) construction
  spline S63 degree 3 poles (61.9919, -59.7522) (61.9919, -59.7522) (61.9919, -59.7523) (61.9919, -59.7523) knots 20 20 20 20 21 21 21 21
  line L240 (61.9919, -59.7522) -> (61.9919, -59.7522) construction
  line L241 (61.9919, -59.7522) -> (61.9919, -59.7523) construction
  line L242 (61.9919, -59.7523) -> (61.9919, -59.7523) construction
  spline S64 degree 3 poles (61.9919, -59.7523) (62.1024, -59.9523) (62.1709, -60.1788) (62.1709, -60.4235) (62.1709, -61.195) (61.5454, -61.8205) (60.7739, -61.8205) knots 22 22 22 22 23 23 23 24 24 24 24
  line L243 (61.9919, -59.7523) -> (62.1024, -59.9523) construction
  line L244 (62.1024, -59.9523) -> (62.1709, -60.1788) construction
  line L245 (62.1709, -60.1788) -> (62.1709, -60.4235) construction
  line L246 (62.1709, -60.4235) -> (62.1709, -61.195) construction
  line L247 (62.1709, -61.195) -> (61.5454, -61.8205) construction
  line L248 (61.5454, -61.8205) -> (60.7739, -61.8205) construction
  spline S65 degree 3 poles (62.5971, -57.5872) (62.5971, -57.8109) (62.5744, -58.029) (62.5405, -58.2435) knots 0 0 0 0 1 1 1 1
  line L249 (62.5971, -57.5872) -> (62.5971, -57.8109) construction
  line L250 (62.5971, -57.8109) -> (62.5744, -58.029) construction
  line L251 (62.5744, -58.029) -> (62.5405, -58.2435) construction
  spline S66 degree 3 poles (62.5405, -58.2435) (62.0576, -57.8514) (61.443, -57.6154) (60.7739, -57.6154) (59.2255, -57.6154) (57.9658, -58.8751) (57.9658, -60.4235) (57.9658, -60.9323) (58.1039, -61.4085) (58.3414, -61.8205) knots 1 1 1 1 2 2 2 3 3 3 4 4 4 4
  line L252 (62.5405, -58.2435) -> (62.0576, -57.8514) construction
  line L253 (62.0576, -57.8514) -> (61.443, -57.6154) construction
  line L254 (61.443, -57.6154) -> (60.7739, -57.6154) construction
  line L255 (60.7739, -57.6154) -> (59.2255, -57.6154) construction
  line L256 (59.2255, -57.6154) -> (57.9658, -58.8751) construction
  line L257 (57.9658, -58.8751) -> (57.9658, -60.4235) construction
  line L258 (57.9658, -60.4235) -> (57.9658, -60.9323) construction
  line L259 (57.9658, -60.9323) -> (58.1039, -61.4085) construction
  line L260 (58.1039, -61.4085) -> (58.3414, -61.8205) construction
  line L261 (58.3414, -61.8205) -> (19.6354, -61.8205)
  spline S67 degree 3 poles (19.6354, -61.8205) (19.5417, -61.8205) (19.4499, -61.8124) (19.3576, -61.8064) knots 5 5 5 5 6 6 6 6
  line L262 (19.6354, -61.8205) -> (19.5417, -61.8205) construction
  line L263 (19.5417, -61.8205) -> (19.4499, -61.8124) construction
  line L264 (19.4499, -61.8124) -> (19.3576, -61.8064) construction
  spline S68 degree 3 poles (19.3576, -61.8064) (19.5901, -61.3976) (19.7247, -60.9264) (19.7247, -60.4235) (19.7247, -58.8751) (18.465, -57.6154) (16.9166, -57.6154) (16.3697, -57.6154) (15.8605, -57.775) (15.4284, -58.0465) knots 6 6 6 6 7 7 7 8 8 8 9 9 9 9
  line L265 (19.3576, -61.8064) -> (19.5901, -61.3976) construction
  line L266 (19.5901, -61.3976) -> (19.7247, -60.9264) construction
  line L267 (19.7247, -60.9264) -> (19.7247, -60.4235) construction
  line L268 (19.7247, -60.4235) -> (19.7247, -58.8751) construction
  line L269 (19.7247, -58.8751) -> (18.465, -57.6154) construction
  line L270 (18.465, -57.6154) -> (16.9166, -57.6154) construction
  line L271 (16.9166, -57.6154) -> (16.3697, -57.6154) construction
  line L272 (16.3697, -57.6154) -> (15.8605, -57.775) construction
  line L273 (15.8605, -57.775) -> (15.4284, -58.0465) construction
  spline S69 degree 3 poles (15.4284, -58.0465) (15.4119, -57.8954) (15.4021, -57.7424) (15.4021, -57.5872) knots 9 9 9 9 10 10 10 10
  line L274 (15.4284, -58.0465) -> (15.4119, -57.8954) construction
  line L275 (15.4119, -57.8954) -> (15.4021, -57.7424) construction
  line L276 (15.4021, -57.7424) -> (15.4021, -57.5872) construction
  line L277 (15.4021, -57.5872) -> (15.4021, -19.3178)
  spline S70 degree 3 poles (15.4021, -19.3178) (15.4021, -19.1707) (15.4099, -19.0254) (15.4248, -18.882) knots 11 11 11 11 12 12 12 12
  line L278 (15.4021, -19.3178) -> (15.4021, -19.1707) construction
  line L279 (15.4021, -19.1707) -> (15.4099, -19.0254) construction
  line L280 (15.4099, -19.0254) -> (15.4248, -18.882) construction
  spline S71 degree 3 poles (15.4248, -18.882) (15.8486, -19.1389) (16.3435, -19.2896) (16.8742, -19.2896) (18.4226, -19.2896) (19.6823, -18.0299) (19.6823, -16.4815) (19.6823, -15.9795) (19.5483, -15.5089) (19.3165, -15.1007) knots 12 12 12 12 13 13 13 14 14 14 15 15 15 15
  line L281 (15.4248, -18.882) -> (15.8486, -19.1389) construction
  line L282 (15.8486, -19.1389) -> (16.3435, -19.2896) construction
  line L283 (16.3435, -19.2896) -> (16.8742, -19.2896) construction
  line L284 (16.8742, -19.2896) -> (18.4226, -19.2896) construction
  line L285 (18.4226, -19.2896) -> (19.6823, -18.0299) construction
  line L286 (19.6823, -18.0299) -> (19.6823, -16.4815) construction
  line L287 (19.6823, -16.4815) -> (19.6823, -15.9795) construction
  line L288 (19.6823, -15.9795) -> (19.5483, -15.5089) construction
  line L289 (19.5483, -15.5089) -> (19.3165, -15.1007) construction
  spline S72 degree 3 poles (19.3165, -15.1007) (19.4222, -15.0927) (19.5278, -15.0845) (19.6354, -15.0845) knots 15 15 15 15 16 16 16 16
  line L290 (19.3165, -15.1007) -> (19.4222, -15.0927) construction
  line L291 (19.4222, -15.0927) -> (19.5278, -15.0845) construction
  line L292 (19.5278, -15.0845) -> (19.6354, -15.0845) construction
  spline S73 degree 3 poles (58.3414, -15.0845) (58.1039, -15.4965) (57.9658, -15.9727) (57.9658, -16.4815) (57.9658, -18.0299) (59.2255, -19.2896) (60.7739, -19.2896) (61.443, -19.2896) (62.0576, -19.0536) (62.5405, -18.6614) knots 17 17 17 17 18 18 18 19 19 19 20 20 20 20
  line L293 (58.3414, -15.0845) -> (58.1039, -15.4965) construction
  line L294 (58.1039, -15.4965) -> (57.9658, -15.9727) construction
  line L295 (57.9658, -15.9727) -> (57.9658, -16.4815) construction
  line L296 (57.9658, -16.4815) -> (57.9658, -18.0299) construction
  line L297 (57.9658, -18.0299) -> (59.2255, -19.2896) construction
  line L298 (59.2255, -19.2896) -> (60.7739, -19.2896) construction
  line L299 (60.7739, -19.2896) -> (61.443, -19.2896) construction
  line L300 (61.443, -19.2896) -> (62.0576, -19.0536) construction
  line L301 (62.0576, -19.0536) -> (62.5405, -18.6614) construction
  spline S74 degree 3 poles (62.5405, -18.6614) (62.5744, -18.876) (62.5971, -19.0941) (62.5971, -19.3178) knots 20 20 20 20 21 21 21 21
  line L302 (62.5405, -18.6614) -> (62.5744, -18.876) construction
  line L303 (62.5744, -18.876) -> (62.5971, -19.0941) construction
  line L304 (62.5971, -19.0941) -> (62.5971, -19.3178) construction
  line L305 (62.5989, -19.3178) -> (62.6148, -57.5872)
  point P0 (0, 0)
sketch "Sketch2" plane through (0, 0, 0) normal (0, 1, 0) x (-1, 0, 0)
  arc A0 (15.4198, -18.8831) -> (19.312, -15.1063) centre (16.8686, -16.4822) ccw
  arc A1 (19.312, -61.8046) -> (15.4198, -58.0465) centre (16.9261, -60.381) ccw
  arc A2 (62.5444, -58.244) -> (58.3471, -61.8046) centre (60.767, -60.4029) ccw
  arc A3 (58.3471, -15.1063) -> (62.5444, -18.6734) centre (60.7755, -16.5019) ccw
  line L0 (62.4312, -11.5226) -> (14.8247, -11.5226)
  line L1 (11.8247, -14.5226) -> (11.8247, -61.8396)
  line L2 (14.8247, -64.8396) -> (62.4312, -64.8396)
  line L3 (65.4312, -61.8396) -> (65.4312, -14.5226)
  arc A4 (62.4312, -64.8396) -> (65.4312, -61.8396) centre (62.4312, -61.8396) ccw
  arc A5 (11.8247, -61.8396) -> (14.8247, -64.8396) centre (14.8247, -61.8396) ccw
  arc A6 (14.8247, -11.5226) -> (11.8247, -14.5226) centre (14.8247, -14.5226) ccw
  arc A7 (65.4312, -14.5226) -> (62.4312, -11.5226) centre (62.4312, -14.5226) ccw
  line L4 (58.3471, -15.1063) -> (45.232, -15.1063)
  line L5 (19.312, -15.1063) -> (31.812, -15.1063)
  line L6 (31.812, -15.1063) -> (31.812, -14.1063)
  line L7 (31.812, -14.1063) -> (45.232, -14.1063)
  line L8 (45.232, -14.1063) -> (45.232, -15.1063)
  line L9 (15.4198, -18.8831) -> (15.4198, -31.3831)
  line L10 (15.4198, -31.3831) -> (14.4198, -31.3831)
  line L11 (15.4198, -58.0465) -> (15.4198, -45.5465)
  line L12 (15.4198, -45.5465) -> (14.4198, -45.5465)
  line L13 (14.4198, -45.5465) -> (14.4198, -31.3831)
  line L14 (19.312, -61.8046) -> (31.812, -61.8046)
  line L15 (58.3471, -61.8046) -> (45.8471, -61.8046)
  line L16 (45.8471, -61.8046) -> (45.8471, -62.8046)
  line L17 (45.8471, -62.8046) -> (31.812, -62.8046)
  line L18 (31.812, -62.8046) -> (31.812, -61.8046)
  line L19 (62.5444, -18.6734) -> (62.5444, -31.1734)
  line L20 (62.5444, -58.244) -> (62.5444, -45.744)
  line L21 (62.5444, -45.744) -> (63.5444, -45.744)
  line L22 (63.5444, -45.744) -> (63.5444, -31.1734)
  line L23 (63.5444, -31.1734) -> (62.5444, -31.1734)
  circle A8 centre (60.7791, -16.4067) radius 1.55
  circle A9 centre (60.767, -60.4029) radius 1.55
  circle A10 centre (16.7694, -60.4038) radius 1.55
  circle A11 centre (16.7694, -16.4067) radius 1.55
  point P0 (0, 0)
  dimension "d1" = 3
  dimension "d2" = 3
  dimension "d8" = 47.6065
  dimension "d11" = 12.5
  dimension "d12" = 1
  dimension "d13" = 12.5
  dimension "d14" = 1
  dimension "d15" = 12.5
  dimension "d16" = 12.5
  dimension "d17" = 12.5
  dimension "d18" = 1
  dimension "d19" = 12.5
  dimension "d20" = 12.5
  dimension "d21" = 1
  dimension "d22" = 3.1
  dimension "d24" = 53.6065
  dimension "d25" = 3.1
  dimension "d26" = 3.1
  dimension "d27" = 3.1
extrude "Extrusion2" add sketch "Sketch2" along normal blind 3.1
properties part number "keyboard_space_cad"
